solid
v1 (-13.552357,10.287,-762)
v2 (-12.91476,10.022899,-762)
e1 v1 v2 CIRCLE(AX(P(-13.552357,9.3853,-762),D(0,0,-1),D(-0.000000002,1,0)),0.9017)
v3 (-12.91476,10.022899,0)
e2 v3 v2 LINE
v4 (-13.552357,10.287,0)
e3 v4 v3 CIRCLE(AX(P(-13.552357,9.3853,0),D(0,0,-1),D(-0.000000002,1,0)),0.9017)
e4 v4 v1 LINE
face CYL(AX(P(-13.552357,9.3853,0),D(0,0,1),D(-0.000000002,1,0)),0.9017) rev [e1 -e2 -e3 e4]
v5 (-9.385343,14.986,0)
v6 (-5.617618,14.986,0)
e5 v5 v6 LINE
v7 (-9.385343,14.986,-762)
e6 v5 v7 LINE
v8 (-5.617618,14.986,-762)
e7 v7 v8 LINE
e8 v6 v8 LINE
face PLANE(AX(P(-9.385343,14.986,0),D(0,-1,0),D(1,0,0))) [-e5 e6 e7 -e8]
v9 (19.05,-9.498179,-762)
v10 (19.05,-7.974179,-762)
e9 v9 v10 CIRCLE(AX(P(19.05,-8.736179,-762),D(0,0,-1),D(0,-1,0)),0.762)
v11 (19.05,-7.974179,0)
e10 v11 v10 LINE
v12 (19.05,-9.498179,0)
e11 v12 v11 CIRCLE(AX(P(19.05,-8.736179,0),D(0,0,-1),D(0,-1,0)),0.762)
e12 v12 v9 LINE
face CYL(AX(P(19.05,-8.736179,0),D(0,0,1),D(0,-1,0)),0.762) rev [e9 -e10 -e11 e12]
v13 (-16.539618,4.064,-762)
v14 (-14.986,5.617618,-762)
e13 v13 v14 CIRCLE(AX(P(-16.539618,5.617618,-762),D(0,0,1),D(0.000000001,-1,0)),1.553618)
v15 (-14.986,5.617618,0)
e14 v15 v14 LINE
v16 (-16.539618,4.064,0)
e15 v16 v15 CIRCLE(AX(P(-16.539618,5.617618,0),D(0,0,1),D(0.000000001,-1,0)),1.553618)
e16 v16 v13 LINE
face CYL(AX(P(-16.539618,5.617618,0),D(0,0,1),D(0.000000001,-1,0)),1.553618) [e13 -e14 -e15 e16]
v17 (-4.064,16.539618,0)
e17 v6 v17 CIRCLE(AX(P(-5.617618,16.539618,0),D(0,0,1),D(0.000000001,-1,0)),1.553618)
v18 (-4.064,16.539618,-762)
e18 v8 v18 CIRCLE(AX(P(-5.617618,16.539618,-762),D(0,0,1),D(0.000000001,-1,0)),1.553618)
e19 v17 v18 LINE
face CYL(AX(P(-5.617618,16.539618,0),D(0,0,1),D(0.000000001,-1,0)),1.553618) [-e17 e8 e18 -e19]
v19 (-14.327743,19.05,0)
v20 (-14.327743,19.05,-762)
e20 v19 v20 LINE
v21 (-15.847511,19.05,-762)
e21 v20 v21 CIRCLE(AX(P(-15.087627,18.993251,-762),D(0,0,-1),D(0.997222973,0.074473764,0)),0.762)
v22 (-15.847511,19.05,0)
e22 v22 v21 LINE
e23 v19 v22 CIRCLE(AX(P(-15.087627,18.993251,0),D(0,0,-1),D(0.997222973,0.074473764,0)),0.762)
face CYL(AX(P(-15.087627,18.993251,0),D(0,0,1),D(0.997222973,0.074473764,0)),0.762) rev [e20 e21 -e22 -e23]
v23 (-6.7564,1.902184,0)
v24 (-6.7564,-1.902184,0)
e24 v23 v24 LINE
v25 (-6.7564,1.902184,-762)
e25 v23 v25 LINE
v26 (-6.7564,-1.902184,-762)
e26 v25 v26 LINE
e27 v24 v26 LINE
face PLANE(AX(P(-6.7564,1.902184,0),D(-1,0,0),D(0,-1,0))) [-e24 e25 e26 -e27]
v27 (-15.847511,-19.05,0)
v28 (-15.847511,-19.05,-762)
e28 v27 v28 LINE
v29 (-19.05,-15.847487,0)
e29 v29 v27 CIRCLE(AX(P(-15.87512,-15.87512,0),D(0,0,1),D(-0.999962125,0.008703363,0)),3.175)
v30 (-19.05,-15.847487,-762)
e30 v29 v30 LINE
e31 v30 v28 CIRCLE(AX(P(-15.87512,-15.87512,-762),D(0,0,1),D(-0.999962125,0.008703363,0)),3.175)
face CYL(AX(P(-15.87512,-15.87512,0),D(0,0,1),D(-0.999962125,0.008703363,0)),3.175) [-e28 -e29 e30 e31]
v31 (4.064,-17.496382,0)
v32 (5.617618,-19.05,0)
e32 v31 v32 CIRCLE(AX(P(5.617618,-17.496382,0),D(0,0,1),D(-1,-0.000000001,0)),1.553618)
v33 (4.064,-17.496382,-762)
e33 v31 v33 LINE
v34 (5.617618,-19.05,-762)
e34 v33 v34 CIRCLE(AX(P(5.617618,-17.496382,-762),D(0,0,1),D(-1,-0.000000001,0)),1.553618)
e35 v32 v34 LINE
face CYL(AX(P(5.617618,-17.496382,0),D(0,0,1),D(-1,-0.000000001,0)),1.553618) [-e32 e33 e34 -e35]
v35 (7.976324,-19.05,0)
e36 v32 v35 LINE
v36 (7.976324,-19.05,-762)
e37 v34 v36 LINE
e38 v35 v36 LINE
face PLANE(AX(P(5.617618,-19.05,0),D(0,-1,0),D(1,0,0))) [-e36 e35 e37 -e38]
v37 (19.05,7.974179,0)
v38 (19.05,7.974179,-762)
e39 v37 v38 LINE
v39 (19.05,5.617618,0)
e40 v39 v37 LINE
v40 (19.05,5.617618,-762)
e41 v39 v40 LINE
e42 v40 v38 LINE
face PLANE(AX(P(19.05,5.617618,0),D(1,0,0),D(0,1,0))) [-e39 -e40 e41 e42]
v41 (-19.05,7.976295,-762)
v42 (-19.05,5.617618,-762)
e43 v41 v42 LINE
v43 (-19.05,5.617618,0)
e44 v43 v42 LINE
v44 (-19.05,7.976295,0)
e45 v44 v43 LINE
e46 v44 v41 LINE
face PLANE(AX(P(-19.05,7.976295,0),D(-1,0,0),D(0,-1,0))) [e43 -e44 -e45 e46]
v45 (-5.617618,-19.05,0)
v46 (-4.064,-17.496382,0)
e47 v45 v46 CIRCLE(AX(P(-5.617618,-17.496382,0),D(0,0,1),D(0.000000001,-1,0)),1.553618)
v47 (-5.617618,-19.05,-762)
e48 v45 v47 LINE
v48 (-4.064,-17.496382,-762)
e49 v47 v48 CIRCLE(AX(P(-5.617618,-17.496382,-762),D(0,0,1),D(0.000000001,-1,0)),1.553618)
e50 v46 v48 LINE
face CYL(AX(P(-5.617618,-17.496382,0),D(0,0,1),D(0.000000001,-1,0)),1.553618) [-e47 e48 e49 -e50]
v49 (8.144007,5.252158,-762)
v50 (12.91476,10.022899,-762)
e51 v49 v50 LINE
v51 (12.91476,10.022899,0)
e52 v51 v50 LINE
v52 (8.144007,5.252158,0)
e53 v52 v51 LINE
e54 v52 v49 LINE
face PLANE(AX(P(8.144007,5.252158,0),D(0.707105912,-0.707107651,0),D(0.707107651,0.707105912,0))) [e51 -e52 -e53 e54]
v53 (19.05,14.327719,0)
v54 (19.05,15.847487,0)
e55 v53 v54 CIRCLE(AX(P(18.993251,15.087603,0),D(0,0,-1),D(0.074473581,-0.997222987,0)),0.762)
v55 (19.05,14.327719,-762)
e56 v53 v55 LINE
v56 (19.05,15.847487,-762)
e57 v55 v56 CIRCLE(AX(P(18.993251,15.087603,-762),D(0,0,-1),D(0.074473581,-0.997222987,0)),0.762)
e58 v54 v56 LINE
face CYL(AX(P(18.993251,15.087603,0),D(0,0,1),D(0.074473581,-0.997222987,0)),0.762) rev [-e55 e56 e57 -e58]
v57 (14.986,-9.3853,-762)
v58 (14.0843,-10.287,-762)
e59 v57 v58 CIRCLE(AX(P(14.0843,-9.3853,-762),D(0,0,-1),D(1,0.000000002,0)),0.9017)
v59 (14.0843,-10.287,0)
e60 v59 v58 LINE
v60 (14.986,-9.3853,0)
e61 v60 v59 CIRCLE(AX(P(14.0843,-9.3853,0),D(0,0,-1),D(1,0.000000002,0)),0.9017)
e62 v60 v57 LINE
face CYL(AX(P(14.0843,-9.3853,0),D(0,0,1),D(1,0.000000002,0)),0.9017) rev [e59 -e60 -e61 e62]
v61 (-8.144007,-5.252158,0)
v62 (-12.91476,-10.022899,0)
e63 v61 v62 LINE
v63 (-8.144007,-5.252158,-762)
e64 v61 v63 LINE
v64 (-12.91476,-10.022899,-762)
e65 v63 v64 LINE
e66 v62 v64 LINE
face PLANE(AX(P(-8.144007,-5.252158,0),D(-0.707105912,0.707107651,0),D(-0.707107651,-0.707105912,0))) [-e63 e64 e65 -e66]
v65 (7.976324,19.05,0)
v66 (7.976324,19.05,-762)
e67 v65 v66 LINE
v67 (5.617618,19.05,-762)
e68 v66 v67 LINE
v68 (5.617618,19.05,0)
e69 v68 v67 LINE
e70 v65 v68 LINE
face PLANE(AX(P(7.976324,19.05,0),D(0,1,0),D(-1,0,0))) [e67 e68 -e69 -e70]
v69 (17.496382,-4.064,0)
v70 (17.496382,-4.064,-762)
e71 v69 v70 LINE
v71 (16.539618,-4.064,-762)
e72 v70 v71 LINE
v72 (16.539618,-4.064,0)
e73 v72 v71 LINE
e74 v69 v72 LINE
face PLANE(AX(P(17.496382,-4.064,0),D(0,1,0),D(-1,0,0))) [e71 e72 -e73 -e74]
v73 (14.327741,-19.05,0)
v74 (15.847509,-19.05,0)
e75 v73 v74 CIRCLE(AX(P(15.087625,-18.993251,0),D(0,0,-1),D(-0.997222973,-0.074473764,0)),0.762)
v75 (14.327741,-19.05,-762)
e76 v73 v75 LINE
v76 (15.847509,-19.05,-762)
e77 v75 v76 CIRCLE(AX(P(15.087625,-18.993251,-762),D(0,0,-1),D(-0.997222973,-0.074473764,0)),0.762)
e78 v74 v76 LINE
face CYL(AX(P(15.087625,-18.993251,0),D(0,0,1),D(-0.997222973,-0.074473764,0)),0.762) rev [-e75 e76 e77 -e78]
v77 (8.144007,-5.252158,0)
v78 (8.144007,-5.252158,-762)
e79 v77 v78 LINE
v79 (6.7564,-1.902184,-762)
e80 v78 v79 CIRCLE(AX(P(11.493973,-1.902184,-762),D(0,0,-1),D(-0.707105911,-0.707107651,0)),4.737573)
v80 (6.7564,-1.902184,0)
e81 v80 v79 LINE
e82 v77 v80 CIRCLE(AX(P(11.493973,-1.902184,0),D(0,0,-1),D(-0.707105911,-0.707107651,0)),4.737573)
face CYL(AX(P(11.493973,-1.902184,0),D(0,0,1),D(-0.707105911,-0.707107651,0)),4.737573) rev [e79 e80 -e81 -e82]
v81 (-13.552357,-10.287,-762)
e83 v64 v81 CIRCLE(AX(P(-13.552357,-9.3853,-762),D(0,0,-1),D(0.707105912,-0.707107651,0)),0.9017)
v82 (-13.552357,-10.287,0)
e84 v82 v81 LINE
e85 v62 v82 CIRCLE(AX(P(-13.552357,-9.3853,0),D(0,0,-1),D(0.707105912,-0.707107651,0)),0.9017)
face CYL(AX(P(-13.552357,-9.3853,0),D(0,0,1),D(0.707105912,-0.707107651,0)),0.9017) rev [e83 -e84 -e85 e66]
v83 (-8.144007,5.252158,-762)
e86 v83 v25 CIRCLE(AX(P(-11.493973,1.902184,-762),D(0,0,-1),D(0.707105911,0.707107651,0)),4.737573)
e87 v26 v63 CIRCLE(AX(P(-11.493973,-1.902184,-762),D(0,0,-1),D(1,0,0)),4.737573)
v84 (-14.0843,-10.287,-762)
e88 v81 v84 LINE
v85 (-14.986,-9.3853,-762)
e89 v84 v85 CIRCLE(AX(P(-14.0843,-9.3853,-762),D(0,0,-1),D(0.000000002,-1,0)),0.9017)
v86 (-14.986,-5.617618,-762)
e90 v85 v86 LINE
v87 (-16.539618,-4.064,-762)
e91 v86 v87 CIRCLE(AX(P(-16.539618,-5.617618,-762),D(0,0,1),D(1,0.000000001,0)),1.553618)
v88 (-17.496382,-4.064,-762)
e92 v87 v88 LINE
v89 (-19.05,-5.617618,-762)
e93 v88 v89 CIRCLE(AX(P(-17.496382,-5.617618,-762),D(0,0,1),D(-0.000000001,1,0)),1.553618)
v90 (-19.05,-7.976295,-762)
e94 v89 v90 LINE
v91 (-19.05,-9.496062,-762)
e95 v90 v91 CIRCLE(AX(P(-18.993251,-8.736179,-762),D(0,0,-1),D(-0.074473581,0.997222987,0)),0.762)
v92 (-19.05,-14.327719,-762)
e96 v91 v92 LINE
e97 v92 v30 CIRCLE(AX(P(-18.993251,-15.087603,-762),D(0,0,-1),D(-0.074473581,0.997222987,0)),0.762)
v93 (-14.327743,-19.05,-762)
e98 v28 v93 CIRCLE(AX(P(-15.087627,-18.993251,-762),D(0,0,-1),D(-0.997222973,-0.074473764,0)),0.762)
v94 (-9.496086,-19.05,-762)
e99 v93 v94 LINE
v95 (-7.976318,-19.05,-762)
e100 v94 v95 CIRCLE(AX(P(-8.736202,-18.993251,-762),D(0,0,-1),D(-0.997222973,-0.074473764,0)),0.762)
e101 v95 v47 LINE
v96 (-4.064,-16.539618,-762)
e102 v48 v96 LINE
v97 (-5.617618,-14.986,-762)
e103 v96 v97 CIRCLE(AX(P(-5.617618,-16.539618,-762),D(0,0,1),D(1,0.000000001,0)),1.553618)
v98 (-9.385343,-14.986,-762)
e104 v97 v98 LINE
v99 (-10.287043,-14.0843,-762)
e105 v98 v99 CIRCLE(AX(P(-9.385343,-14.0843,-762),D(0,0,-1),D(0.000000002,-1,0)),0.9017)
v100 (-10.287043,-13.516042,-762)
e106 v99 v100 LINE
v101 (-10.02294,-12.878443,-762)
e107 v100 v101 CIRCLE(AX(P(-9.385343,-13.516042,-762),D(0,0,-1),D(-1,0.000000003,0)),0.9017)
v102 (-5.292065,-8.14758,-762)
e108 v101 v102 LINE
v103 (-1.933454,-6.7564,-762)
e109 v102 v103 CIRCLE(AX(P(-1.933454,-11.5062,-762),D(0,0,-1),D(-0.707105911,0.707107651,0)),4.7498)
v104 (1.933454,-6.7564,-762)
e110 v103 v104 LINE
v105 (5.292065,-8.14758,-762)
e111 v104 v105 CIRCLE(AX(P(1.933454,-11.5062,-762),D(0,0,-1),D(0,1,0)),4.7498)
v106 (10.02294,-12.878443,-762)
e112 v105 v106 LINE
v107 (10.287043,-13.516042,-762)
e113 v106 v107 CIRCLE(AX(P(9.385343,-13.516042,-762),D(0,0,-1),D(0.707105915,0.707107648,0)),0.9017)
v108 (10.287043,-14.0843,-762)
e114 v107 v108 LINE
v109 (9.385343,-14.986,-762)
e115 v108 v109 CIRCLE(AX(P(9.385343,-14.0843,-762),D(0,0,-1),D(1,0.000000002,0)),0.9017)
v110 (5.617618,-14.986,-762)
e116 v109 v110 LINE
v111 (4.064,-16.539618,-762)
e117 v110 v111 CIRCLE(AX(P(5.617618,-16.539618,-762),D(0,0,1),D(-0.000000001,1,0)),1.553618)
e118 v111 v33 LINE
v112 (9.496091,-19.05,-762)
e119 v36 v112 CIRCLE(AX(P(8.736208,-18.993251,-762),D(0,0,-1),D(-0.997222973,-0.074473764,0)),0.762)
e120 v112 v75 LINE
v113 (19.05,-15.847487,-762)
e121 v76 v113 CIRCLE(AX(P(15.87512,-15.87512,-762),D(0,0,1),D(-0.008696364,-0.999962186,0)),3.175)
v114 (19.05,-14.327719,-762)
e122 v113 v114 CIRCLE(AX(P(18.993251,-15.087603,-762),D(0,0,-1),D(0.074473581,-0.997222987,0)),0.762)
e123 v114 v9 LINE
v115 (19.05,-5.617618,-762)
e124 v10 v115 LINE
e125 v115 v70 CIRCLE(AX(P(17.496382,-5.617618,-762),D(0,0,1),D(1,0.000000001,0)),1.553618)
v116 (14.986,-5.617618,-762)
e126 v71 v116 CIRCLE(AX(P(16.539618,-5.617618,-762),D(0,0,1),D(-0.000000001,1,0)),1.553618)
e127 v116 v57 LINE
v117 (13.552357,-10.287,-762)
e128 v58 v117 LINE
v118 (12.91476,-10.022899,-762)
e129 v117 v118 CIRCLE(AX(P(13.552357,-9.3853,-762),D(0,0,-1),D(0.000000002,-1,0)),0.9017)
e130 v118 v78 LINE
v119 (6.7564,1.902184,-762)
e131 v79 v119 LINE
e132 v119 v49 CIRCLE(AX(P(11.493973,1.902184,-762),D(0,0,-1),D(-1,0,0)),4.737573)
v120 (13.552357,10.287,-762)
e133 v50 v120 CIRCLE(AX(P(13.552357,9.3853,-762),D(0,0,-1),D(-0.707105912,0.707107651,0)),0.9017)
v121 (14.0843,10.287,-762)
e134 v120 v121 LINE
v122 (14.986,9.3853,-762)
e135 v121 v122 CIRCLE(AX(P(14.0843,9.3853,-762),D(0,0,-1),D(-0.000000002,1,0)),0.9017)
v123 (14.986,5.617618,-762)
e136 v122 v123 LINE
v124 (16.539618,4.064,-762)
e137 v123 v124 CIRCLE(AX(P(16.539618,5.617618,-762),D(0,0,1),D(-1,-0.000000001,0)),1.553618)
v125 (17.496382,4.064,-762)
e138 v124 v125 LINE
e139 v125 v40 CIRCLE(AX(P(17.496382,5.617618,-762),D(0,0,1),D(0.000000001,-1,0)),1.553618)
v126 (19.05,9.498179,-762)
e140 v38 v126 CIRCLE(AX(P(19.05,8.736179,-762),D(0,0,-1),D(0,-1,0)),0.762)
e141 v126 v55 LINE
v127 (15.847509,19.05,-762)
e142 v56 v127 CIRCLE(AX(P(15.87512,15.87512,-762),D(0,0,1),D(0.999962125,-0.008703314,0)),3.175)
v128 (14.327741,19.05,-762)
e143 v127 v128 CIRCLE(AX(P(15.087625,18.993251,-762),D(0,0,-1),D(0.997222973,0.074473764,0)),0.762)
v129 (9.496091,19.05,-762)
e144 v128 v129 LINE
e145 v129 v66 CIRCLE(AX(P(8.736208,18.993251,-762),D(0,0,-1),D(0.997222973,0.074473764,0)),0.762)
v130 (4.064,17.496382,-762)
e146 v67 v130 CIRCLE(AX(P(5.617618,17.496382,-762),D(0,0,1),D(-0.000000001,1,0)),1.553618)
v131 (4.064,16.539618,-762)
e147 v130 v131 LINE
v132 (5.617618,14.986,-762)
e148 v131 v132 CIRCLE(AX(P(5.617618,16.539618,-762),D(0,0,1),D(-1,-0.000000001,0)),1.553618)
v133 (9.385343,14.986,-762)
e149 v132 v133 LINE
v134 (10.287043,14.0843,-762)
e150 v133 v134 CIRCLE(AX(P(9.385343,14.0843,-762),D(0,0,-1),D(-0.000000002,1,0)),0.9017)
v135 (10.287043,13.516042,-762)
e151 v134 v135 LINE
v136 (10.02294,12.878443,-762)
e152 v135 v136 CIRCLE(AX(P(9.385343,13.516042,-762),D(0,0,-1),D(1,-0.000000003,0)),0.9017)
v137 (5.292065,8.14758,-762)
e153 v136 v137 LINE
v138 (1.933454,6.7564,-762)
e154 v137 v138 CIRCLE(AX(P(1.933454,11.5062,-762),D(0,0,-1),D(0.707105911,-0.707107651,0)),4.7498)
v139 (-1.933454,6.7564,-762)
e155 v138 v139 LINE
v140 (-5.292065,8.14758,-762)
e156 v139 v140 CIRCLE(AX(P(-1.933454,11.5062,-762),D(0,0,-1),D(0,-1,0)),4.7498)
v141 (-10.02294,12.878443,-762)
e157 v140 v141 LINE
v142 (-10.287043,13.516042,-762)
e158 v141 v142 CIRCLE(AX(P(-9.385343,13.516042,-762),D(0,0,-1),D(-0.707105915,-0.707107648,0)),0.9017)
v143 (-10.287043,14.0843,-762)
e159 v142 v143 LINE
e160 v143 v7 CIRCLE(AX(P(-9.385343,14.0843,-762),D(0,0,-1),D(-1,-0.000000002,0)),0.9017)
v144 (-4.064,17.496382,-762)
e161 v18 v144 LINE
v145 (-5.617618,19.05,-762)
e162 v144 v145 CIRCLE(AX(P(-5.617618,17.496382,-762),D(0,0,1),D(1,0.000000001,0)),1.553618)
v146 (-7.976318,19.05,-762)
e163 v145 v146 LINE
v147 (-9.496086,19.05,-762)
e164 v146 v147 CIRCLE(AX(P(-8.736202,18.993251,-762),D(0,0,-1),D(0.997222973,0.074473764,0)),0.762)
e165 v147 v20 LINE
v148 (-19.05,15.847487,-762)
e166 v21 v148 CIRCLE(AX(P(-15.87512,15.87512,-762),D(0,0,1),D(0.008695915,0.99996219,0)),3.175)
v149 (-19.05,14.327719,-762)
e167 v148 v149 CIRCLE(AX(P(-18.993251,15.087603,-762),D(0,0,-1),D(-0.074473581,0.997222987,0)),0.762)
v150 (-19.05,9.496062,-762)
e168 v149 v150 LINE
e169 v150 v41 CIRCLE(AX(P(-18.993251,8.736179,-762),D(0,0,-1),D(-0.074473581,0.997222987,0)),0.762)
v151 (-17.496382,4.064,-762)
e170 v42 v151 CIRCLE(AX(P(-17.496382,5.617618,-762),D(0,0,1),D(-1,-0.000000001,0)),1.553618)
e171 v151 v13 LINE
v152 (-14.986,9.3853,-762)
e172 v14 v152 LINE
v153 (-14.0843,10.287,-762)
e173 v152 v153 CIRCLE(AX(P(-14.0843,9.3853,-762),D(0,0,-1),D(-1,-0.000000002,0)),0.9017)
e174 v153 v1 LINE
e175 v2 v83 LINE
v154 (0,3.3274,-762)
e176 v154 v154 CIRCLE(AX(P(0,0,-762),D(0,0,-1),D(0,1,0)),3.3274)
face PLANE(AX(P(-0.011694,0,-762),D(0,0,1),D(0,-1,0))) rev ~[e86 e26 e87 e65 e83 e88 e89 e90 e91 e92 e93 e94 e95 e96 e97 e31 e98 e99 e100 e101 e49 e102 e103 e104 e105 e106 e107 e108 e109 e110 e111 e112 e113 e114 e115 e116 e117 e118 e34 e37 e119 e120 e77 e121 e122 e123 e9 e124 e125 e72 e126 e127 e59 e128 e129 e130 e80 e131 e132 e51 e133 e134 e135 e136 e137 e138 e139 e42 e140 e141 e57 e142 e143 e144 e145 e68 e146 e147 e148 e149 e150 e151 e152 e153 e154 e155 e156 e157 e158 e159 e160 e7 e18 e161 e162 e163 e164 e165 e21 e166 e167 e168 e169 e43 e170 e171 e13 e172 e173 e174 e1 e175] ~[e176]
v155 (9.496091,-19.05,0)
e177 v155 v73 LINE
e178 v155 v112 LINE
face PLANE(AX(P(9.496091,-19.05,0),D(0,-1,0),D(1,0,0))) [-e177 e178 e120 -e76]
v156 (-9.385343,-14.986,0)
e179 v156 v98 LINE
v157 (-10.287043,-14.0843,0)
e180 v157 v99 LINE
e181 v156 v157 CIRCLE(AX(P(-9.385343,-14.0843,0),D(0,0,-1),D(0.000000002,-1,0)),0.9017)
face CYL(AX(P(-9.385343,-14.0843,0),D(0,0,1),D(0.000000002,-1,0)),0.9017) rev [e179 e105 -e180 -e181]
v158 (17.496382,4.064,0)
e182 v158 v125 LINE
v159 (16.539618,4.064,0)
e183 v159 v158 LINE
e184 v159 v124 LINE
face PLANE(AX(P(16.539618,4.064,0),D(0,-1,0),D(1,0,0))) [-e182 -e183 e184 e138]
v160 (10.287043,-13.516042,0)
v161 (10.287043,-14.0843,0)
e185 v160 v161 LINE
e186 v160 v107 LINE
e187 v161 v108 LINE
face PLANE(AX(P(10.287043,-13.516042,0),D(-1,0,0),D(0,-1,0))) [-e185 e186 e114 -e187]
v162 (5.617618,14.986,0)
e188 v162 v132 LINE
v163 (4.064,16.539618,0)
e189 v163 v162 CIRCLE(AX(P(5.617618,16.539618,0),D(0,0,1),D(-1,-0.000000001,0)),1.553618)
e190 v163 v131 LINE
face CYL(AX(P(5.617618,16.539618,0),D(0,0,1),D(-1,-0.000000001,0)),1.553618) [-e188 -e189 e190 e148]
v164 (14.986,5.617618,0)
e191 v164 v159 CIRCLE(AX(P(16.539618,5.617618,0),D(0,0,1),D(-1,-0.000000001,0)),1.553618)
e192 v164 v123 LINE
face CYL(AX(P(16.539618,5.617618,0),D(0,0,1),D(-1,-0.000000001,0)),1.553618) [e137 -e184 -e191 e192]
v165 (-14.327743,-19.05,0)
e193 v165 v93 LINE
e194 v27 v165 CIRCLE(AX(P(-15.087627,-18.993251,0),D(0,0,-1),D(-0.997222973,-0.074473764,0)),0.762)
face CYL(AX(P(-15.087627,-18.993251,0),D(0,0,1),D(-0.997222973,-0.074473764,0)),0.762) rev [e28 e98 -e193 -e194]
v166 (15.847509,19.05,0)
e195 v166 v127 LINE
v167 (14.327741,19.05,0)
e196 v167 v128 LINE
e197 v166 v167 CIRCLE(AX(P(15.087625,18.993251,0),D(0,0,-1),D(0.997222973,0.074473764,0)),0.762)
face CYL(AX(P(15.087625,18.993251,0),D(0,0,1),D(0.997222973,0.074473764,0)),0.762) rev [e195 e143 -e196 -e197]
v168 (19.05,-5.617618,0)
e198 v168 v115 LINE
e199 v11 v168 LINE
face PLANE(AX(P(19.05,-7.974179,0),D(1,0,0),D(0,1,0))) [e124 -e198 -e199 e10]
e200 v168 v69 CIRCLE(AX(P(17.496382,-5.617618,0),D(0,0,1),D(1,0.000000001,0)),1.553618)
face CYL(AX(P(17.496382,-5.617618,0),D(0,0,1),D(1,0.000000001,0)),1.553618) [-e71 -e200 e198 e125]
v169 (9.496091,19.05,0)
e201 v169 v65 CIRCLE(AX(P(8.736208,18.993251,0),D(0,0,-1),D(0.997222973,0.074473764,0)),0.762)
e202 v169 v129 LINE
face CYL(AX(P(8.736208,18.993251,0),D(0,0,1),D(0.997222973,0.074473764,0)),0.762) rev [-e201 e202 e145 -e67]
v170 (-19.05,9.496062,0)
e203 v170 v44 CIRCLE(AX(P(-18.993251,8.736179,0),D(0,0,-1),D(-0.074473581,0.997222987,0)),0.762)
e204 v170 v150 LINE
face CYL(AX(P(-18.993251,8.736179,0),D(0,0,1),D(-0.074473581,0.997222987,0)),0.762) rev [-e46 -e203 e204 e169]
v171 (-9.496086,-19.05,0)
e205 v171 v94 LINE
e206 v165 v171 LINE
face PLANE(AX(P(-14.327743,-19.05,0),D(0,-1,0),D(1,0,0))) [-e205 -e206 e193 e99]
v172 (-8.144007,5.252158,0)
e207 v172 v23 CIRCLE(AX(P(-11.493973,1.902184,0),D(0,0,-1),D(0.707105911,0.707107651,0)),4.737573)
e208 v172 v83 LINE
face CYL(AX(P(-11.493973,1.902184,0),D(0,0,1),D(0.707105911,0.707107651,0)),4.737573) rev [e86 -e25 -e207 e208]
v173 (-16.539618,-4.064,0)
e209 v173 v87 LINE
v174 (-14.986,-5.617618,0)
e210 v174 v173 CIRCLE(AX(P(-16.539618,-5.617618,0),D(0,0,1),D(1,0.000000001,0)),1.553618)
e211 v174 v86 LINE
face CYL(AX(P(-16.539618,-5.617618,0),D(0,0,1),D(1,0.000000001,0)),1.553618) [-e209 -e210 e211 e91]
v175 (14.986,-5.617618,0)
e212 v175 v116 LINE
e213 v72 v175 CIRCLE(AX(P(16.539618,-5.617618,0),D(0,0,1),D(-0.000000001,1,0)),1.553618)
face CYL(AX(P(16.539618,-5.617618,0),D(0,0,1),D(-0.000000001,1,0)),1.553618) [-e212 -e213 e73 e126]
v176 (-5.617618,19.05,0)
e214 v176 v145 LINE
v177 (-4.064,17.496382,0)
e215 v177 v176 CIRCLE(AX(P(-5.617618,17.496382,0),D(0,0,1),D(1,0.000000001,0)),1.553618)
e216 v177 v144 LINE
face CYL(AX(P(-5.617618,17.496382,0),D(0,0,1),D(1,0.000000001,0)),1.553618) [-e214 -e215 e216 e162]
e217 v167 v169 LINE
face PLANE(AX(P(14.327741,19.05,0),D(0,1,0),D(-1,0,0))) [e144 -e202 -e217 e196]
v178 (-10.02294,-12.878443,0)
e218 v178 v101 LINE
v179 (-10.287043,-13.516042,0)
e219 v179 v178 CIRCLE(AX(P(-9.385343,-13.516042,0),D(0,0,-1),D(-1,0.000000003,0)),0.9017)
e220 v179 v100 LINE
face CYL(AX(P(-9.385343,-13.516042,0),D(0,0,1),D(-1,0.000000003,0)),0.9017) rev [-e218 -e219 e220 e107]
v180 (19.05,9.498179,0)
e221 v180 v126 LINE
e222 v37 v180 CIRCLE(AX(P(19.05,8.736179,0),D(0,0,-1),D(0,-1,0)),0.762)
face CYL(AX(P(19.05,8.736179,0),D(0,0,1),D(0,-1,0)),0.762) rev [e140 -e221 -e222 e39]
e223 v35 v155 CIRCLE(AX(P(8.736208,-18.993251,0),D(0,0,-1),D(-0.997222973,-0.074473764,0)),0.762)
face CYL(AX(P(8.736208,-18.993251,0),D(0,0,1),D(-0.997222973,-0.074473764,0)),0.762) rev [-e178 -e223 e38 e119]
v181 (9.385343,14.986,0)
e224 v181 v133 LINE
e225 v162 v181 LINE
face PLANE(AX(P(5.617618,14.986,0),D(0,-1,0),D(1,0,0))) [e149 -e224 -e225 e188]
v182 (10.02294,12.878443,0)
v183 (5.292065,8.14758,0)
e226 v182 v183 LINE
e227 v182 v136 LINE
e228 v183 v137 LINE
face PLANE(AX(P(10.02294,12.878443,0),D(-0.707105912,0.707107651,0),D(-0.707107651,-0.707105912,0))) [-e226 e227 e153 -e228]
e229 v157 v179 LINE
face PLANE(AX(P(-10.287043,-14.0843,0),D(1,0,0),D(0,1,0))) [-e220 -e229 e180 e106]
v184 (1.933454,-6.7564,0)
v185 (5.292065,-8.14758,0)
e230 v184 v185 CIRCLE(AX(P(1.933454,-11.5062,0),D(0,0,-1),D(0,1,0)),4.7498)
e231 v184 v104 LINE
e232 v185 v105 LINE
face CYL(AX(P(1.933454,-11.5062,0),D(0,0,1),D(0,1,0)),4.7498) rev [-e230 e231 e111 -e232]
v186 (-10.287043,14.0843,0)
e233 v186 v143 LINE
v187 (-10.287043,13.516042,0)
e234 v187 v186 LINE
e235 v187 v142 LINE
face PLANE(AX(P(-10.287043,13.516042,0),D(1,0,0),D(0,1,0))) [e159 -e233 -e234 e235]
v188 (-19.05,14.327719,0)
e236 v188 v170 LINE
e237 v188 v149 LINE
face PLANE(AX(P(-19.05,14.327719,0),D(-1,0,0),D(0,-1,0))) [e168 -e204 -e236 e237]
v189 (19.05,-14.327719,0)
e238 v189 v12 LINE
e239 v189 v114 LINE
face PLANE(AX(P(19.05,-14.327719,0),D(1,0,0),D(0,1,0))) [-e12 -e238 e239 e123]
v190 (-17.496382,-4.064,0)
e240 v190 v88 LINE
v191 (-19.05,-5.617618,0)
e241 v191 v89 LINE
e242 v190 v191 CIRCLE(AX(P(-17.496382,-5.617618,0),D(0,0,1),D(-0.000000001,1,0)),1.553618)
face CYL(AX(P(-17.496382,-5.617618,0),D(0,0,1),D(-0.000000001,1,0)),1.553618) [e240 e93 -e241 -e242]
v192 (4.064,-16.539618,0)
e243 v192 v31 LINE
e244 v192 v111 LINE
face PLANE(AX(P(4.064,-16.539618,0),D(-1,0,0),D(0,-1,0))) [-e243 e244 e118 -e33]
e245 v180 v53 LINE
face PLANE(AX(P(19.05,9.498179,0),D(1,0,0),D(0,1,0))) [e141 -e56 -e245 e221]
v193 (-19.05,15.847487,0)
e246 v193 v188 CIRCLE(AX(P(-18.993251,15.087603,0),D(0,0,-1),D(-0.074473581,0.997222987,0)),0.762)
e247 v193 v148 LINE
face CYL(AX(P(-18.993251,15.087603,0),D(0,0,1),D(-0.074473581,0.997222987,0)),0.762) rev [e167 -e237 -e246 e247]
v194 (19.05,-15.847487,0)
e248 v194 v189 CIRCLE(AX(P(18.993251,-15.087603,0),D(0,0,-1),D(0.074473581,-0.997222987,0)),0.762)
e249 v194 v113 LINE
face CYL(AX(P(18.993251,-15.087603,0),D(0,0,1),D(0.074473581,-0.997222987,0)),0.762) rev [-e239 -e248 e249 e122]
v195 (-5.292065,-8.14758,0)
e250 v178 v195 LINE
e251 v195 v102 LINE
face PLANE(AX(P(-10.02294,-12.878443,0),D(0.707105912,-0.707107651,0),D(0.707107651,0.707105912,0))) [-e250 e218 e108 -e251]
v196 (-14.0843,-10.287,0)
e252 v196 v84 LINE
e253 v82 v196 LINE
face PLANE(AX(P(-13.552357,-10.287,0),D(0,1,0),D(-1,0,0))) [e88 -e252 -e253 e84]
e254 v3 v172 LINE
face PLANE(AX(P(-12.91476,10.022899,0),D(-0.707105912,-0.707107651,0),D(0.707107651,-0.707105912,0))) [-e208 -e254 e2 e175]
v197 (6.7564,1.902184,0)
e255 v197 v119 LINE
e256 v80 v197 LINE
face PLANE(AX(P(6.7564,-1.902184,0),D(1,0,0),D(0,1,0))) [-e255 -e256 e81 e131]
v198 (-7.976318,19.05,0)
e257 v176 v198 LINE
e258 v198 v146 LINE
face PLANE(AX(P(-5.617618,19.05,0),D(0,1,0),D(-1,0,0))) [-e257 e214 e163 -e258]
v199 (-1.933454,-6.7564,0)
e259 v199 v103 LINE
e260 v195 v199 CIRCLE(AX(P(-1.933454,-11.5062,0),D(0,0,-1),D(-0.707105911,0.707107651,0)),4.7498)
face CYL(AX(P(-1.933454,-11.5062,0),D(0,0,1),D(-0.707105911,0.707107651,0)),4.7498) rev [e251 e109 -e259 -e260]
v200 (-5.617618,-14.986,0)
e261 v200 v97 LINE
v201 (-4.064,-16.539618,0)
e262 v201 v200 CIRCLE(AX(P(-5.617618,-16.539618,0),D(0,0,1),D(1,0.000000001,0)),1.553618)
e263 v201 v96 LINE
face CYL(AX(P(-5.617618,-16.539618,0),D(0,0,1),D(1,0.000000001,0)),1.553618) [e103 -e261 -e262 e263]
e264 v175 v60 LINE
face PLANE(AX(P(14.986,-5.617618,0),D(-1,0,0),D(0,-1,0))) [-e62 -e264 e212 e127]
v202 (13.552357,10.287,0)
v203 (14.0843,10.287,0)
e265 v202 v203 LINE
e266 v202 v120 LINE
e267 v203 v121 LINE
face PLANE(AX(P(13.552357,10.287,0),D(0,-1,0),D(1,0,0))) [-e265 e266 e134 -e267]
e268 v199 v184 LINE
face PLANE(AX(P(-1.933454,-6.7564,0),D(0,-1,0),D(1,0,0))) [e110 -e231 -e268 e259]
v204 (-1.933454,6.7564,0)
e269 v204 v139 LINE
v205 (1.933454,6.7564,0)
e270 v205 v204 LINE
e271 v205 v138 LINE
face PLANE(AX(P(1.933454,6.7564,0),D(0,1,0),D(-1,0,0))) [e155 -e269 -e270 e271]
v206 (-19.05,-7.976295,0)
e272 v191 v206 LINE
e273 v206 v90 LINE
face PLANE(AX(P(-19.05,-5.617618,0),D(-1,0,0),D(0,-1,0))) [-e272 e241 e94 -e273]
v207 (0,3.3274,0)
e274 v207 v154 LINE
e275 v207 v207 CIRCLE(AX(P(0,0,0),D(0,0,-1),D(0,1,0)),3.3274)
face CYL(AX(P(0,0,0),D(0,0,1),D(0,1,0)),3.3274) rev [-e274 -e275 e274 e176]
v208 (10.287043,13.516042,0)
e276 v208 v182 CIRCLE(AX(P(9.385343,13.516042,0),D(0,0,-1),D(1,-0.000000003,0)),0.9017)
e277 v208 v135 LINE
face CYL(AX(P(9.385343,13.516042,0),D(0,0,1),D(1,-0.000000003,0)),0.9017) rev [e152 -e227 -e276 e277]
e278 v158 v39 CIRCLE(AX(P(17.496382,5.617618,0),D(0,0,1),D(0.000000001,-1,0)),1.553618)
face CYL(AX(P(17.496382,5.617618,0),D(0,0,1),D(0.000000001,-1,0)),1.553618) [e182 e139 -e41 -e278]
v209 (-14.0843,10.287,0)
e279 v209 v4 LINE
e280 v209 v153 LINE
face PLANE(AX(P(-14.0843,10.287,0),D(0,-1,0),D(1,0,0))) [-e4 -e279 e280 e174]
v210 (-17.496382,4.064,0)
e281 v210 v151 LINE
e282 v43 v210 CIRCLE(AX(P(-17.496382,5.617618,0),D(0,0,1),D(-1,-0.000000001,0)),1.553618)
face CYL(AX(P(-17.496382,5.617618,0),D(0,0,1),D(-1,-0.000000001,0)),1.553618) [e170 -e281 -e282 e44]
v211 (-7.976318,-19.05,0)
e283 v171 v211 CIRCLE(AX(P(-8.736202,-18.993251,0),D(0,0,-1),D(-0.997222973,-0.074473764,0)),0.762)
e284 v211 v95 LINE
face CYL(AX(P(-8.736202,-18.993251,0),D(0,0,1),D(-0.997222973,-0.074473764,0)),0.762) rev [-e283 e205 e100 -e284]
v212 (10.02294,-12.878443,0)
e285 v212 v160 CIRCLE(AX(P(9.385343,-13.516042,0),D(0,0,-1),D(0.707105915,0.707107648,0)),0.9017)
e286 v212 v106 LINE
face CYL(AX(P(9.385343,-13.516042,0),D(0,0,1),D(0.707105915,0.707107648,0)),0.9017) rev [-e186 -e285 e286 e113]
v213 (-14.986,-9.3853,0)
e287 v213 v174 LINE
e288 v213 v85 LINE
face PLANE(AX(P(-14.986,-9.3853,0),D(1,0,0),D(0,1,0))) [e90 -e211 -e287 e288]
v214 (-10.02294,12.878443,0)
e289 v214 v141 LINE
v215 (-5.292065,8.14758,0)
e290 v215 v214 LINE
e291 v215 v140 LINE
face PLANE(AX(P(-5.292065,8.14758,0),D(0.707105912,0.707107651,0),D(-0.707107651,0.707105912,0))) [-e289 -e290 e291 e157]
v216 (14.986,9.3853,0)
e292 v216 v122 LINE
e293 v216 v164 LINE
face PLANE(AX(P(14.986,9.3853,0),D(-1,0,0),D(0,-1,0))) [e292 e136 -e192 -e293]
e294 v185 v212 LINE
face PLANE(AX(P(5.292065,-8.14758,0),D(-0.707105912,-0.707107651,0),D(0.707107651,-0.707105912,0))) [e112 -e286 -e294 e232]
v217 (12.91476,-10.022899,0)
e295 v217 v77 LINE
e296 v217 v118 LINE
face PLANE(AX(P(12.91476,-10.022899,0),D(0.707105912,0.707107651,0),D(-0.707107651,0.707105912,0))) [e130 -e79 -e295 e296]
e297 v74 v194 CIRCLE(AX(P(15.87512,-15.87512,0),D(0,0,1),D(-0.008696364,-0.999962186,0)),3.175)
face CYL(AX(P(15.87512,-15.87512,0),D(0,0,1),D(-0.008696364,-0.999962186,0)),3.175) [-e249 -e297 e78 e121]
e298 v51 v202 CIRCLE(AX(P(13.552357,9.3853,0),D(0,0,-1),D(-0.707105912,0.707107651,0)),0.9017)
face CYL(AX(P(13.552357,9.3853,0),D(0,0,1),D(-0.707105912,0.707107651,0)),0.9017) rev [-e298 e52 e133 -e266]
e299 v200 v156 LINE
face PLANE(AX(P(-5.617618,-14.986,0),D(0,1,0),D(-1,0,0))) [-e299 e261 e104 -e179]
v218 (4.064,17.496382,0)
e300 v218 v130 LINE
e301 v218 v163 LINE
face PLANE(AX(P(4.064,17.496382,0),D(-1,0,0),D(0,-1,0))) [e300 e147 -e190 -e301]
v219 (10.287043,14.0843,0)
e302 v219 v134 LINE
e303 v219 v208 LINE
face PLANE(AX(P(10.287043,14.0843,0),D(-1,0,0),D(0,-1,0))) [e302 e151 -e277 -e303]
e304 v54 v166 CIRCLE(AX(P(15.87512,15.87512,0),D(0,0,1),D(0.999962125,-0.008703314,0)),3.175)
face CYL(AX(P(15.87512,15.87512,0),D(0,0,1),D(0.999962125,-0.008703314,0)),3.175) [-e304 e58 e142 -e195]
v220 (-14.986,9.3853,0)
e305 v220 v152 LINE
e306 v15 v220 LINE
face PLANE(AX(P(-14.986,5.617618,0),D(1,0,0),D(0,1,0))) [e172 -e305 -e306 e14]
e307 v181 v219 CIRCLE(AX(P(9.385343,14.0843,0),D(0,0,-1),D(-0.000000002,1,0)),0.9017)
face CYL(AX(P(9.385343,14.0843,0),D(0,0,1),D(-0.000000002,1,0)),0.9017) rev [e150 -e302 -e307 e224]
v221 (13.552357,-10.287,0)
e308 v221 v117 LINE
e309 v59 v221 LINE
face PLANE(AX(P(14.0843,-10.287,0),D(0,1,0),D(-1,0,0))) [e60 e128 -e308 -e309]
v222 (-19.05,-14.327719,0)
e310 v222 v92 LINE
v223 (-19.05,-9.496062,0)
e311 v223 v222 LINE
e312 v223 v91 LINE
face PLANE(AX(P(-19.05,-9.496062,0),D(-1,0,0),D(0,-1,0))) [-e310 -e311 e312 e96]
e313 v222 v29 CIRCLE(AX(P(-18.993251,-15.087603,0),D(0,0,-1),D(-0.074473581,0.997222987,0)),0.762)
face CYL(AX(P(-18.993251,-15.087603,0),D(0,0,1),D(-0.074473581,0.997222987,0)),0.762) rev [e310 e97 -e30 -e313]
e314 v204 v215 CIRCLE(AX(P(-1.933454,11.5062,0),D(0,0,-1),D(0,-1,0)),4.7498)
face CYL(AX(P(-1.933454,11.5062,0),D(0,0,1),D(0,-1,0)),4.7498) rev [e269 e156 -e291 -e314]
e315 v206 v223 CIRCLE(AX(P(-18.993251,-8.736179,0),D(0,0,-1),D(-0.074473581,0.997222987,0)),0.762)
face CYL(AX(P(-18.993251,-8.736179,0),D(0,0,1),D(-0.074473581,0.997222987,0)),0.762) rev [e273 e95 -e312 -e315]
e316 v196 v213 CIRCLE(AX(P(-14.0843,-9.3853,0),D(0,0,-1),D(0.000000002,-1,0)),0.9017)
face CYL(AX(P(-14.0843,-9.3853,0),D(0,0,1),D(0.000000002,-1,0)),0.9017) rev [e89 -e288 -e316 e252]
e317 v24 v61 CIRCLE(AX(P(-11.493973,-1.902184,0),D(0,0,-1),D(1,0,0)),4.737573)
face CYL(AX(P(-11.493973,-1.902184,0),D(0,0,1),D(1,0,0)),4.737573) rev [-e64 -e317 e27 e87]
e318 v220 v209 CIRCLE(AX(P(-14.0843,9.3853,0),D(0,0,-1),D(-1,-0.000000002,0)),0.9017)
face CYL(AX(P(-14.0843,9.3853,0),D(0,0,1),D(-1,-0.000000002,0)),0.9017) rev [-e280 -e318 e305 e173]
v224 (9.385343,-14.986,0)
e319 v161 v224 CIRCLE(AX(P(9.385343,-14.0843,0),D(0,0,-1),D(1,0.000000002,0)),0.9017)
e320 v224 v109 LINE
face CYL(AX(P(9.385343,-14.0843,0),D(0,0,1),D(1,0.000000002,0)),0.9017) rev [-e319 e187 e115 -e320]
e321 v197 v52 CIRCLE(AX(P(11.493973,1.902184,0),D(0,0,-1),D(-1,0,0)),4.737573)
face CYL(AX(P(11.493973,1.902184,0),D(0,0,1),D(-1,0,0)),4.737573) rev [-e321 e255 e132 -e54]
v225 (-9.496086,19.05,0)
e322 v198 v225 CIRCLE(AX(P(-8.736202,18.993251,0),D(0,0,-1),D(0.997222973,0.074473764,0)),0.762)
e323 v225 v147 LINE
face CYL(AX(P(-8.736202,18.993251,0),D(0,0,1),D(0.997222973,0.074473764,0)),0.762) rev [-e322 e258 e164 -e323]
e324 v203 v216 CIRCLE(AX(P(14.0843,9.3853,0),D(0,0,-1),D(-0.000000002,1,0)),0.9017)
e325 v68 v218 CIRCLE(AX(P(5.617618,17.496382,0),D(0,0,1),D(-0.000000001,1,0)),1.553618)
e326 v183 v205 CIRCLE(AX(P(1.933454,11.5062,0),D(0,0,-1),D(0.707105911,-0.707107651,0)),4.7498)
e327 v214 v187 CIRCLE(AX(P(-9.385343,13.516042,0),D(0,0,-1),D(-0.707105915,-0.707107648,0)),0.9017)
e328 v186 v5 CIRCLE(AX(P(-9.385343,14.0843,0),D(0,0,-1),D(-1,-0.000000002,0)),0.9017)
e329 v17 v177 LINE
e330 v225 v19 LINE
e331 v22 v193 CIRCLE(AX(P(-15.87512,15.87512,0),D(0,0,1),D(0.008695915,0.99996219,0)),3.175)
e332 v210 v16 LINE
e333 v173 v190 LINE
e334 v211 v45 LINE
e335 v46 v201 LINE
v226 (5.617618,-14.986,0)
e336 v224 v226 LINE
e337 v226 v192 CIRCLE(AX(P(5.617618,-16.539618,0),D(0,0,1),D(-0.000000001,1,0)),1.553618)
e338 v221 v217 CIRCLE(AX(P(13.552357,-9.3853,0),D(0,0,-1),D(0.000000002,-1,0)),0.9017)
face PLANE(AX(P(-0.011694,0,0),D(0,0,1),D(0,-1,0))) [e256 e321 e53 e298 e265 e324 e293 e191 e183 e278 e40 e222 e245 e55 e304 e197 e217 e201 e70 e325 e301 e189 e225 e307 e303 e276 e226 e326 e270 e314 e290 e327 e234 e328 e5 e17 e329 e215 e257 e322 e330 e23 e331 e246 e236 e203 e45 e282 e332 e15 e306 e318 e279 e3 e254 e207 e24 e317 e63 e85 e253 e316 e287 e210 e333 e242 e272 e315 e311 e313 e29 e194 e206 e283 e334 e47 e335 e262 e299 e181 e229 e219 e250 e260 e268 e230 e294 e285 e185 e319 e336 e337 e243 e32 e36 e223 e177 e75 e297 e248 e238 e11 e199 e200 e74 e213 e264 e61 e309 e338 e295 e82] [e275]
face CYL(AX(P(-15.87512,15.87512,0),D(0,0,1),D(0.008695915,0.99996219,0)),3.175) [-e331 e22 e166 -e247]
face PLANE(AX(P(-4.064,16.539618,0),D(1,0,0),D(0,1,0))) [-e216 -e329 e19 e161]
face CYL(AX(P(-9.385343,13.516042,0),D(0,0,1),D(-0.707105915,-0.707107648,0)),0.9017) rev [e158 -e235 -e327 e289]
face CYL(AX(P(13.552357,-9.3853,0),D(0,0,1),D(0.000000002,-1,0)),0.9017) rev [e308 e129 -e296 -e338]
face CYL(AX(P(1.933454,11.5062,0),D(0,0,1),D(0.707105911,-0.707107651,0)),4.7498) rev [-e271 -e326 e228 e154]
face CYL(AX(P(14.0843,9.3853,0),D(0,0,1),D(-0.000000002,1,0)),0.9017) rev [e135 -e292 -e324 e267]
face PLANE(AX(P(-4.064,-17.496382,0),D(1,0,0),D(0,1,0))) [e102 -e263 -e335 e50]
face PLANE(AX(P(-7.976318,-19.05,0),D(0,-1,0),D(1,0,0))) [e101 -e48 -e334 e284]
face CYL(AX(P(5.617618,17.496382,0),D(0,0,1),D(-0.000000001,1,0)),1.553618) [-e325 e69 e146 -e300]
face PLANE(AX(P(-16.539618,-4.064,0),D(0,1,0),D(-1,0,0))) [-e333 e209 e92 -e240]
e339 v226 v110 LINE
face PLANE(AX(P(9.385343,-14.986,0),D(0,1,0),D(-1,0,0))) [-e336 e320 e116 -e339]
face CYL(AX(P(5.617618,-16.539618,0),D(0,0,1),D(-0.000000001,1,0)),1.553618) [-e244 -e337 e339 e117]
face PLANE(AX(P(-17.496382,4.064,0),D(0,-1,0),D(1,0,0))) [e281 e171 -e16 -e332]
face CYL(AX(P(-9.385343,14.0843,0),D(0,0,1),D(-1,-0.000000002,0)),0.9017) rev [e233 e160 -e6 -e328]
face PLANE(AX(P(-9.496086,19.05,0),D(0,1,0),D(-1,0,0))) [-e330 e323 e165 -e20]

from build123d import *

# Parameters (mm, degrees)
SKETCH11_R                = 3.3274
F_15_1515_PROFILE_1_DEPTH = 762


with BuildPart() as part:
    # Sketch11 → 15 1515 PROFILE(1) (new body)
    with BuildSketch(Plane.YX):
        with BuildLine():
            Line((-10.022898969, 12.91475973), (-5.252158105, 8.144007132))
            ThreePointArc((-5.252158105, 8.144007132), (-3.715177372, 7.117027388), (-1.902183975, 6.7564))
            Line((-1.902183975, 6.7564), (1.902183975, 6.7564))
            ThreePointArc((1.902183975, 6.7564), (3.715177372, 7.117027388), (5.252158105, 8.144007132))
            Line((5.252158105, 8.144007132), (10.022898969, 12.91475973))
            ThreePointArc((10.022898969, 12.91475973), (10.218362387, 13.207291992), (10.287, 13.552357131))
            Line((10.287, 13.552357131), (10.287, 14.0843))
            ThreePointArc((10.287, 14.0843), (10.022898185, 14.721898185), (9.3853, 14.986))
            Line((9.3853, 14.986), (5.617617549, 14.986))
            ThreePointArc((5.617617549, 14.986), (4.519044045, 15.441044045), (4.064, 16.539617549))
            Line((4.064, 16.539617549), (4.064, 17.496382451))
            ThreePointArc((4.064, 17.496382451), (4.519044045, 18.594955955), (5.617617549, 19.05))
            Line((5.617617549, 19.05), (7.974178704, 19.05))
            ThreePointArc((7.974178704, 19.05), (8.736178704, 18.288), (9.498178704, 19.05))
            Line((9.498178704, 19.05), (14.327719207, 19.05))
            ThreePointArc((14.327719207, 19.05), (15.087603123, 18.231251131), (15.847487039, 19.05))
            ThreePointArc((15.847487039, 19.05), (18.120176289, 18.120192083), (19.05, 15.847509295))
            ThreePointArc((19.05, 15.847509295), (18.231250992, 15.08762539), (19.05, 14.327741484))
            Line((19.05, 14.327741484), (19.05, 9.496091471))
            ThreePointArc((19.05, 9.496091471), (18.231250992, 8.736207565), (19.05, 7.97632366))
            Line((19.05, 7.97632366), (19.05, 5.617617549))
            ThreePointArc((19.05, 5.617617549), (18.594955955, 4.519044045), (17.496382451, 4.064))
            Line((17.496382451, 4.064), (16.539617549, 4.064))
            ThreePointArc((16.539617549, 4.064), (15.441044045, 4.519044045), (14.986, 5.617617549))
            Line((14.986, 5.617617549), (14.986, 9.385342516))
            ThreePointArc((14.986, 9.385342516), (14.721898185, 10.022940701), (14.0843, 10.287042516))
            Line((14.0843, 10.287042516), (13.516042086, 10.287042516))
            ThreePointArc((13.516042086, 10.287042516), (13.170975923, 10.218404478), (12.878443117, 10.022939917))
            Line((12.878443117, 10.022939917), (8.14758008, 5.292065243))
            ThreePointArc((8.14758008, 5.292065243), (7.117955879, 3.751120653), (6.7564, 1.933453584))
            Line((6.7564, 1.933453584), (6.7564, -1.933453584))
            ThreePointArc((6.7564, -1.933453584), (7.117955879, -3.751120653), (8.14758008, -5.292065243))
            Line((8.14758008, -5.292065243), (12.878443117, -10.022939917))
            ThreePointArc((12.878443117, -10.022939917), (13.170975923, -10.218404478), (13.516042086, -10.287042516))
            Line((13.516042086, -10.287042516), (14.0843, -10.287042516))
            ThreePointArc((14.0843, -10.287042516), (14.721898185, -10.022940701), (14.986, -9.385342516))
            Line((14.986, -9.385342516), (14.986, -5.617617549))
            ThreePointArc((14.986, -5.617617549), (15.441044045, -4.519044045), (16.539617549, -4.064))
            Line((16.539617549, -4.064), (17.496382451, -4.064))
            ThreePointArc((17.496382451, -4.064), (18.594955955, -4.519044045), (19.05, -5.617617549))
            Line((19.05, -5.617617549), (19.05, -7.976318491))
            ThreePointArc((19.05, -7.976318491), (18.231250992, -8.736202396), (19.05, -9.496086302))
            Line((19.05, -9.496086302), (19.05, -14.32774291))
            ThreePointArc((19.05, -14.32774291), (18.231250992, -15.087626816), (19.05, -15.847510721))
            ThreePointArc((19.05, -15.847510721), (18.120175716, -18.120192644), (15.847486868, -19.05))
            ThreePointArc((15.847486868, -19.05), (15.087602952, -18.231251131), (14.327719036, -19.05))
            Line((14.327719036, -19.05), (9.496062448, -19.05))
            ThreePointArc((9.496062448, -19.05), (8.736178532, -18.231251131), (7.976294616, -19.05))
            Line((7.976294616, -19.05), (5.617617549, -19.05))
            ThreePointArc((5.617617549, -19.05), (4.519044045, -18.594955955), (4.064, -17.496382451))
            Line((4.064, -17.496382451), (4.064, -16.539617549))
            ThreePointArc((4.064, -16.539617549), (4.519044045, -15.441044045), (5.617617549, -14.986))
            Line((5.617617549, -14.986), (9.3853, -14.986))
            ThreePointArc((9.3853, -14.986), (10.022898185, -14.721898185), (10.287, -14.0843))
            Line((10.287, -14.0843), (10.287, -13.552357131))
            ThreePointArc((10.287, -13.552357131), (10.218362387, -13.207291992), (10.022898969, -12.91475973))
            Line((10.022898969, -12.91475973), (5.252158105, -8.144007132))
            ThreePointArc((5.252158105, -8.144007132), (3.715177372, -7.117027388), (1.902183975, -6.7564))
            Line((1.902183975, -6.7564), (-1.902183975, -6.7564))
            ThreePointArc((-1.902183975, -6.7564), (-3.715177372, -7.117027388), (-5.252158105, -8.144007132))
            Line((-5.252158105, -8.144007132), (-10.022898969, -12.91475973))
            ThreePointArc((-10.022898969, -12.91475973), (-10.218362387, -13.207291992), (-10.287, -13.552357131))
            Line((-10.287, -13.552357131), (-10.287, -14.0843))
            ThreePointArc((-10.287, -14.0843), (-10.022898185, -14.721898185), (-9.3853, -14.986))
            Line((-9.3853, -14.986), (-5.617617549, -14.986))
            ThreePointArc((-5.617617549, -14.986), (-4.519044045, -15.441044045), (-4.064, -16.539617549))
            Line((-4.064, -16.539617549), (-4.064, -17.496382451))
            ThreePointArc((-4.064, -17.496382451), (-4.519044045, -18.594955955), (-5.617617549, -19.05))
            Line((-5.617617549, -19.05), (-7.976294616, -19.05))
            ThreePointArc((-7.976294616, -19.05), (-8.736178532, -18.231251131), (-9.496062448, -19.05))
            Line((-9.496062448, -19.05), (-14.327719036, -19.05))
            ThreePointArc((-14.327719036, -19.05), (-15.087602952, -18.231251131), (-15.847486868, -19.05))
            ThreePointArc((-15.847486868, -19.05), (-18.120175716, -18.120192644), (-19.05, -15.847510721))
            ThreePointArc((-19.05, -15.847510721), (-18.231250992, -15.087626816), (-19.05, -14.32774291))
            Line((-19.05, -14.32774291), (-19.05, -9.496086302))
            ThreePointArc((-19.05, -9.496086302), (-18.231250992, -8.736202396), (-19.05, -7.976318491))
            Line((-19.05, -7.976318491), (-19.05, -5.617617549))
            ThreePointArc((-19.05, -5.617617549), (-18.594955955, -4.519044045), (-17.496382451, -4.064))
            Line((-17.496382451, -4.064), (-16.539617549, -4.064))
            ThreePointArc((-16.539617549, -4.064), (-15.441044045, -4.519044045), (-14.986, -5.617617549))
            Line((-14.986, -5.617617549), (-14.986, -9.385342516))
            ThreePointArc((-14.986, -9.385342516), (-14.721898185, -10.022940701), (-14.0843, -10.287042516))
            Line((-14.0843, -10.287042516), (-13.516042086, -10.287042516))
            ThreePointArc((-13.516042086, -10.287042516), (-13.170975923, -10.218404478), (-12.878443117, -10.022939917))
            Line((-12.878443117, -10.022939917), (-8.14758008, -5.292065243))
            ThreePointArc((-8.14758008, -5.292065243), (-7.117955879, -3.751120653), (-6.7564, -1.933453584))
            Line((-6.7564, -1.933453584), (-6.7564, 1.933453584))
            ThreePointArc((-6.7564, 1.933453584), (-7.117955879, 3.751120653), (-8.14758008, 5.292065243))
            Line((-8.14758008, 5.292065243), (-12.878443117, 10.022939917))
            ThreePointArc((-12.878443117, 10.022939917), (-13.170975923, 10.218404478), (-13.516042086, 10.287042516))
            Line((-13.516042086, 10.287042516), (-14.0843, 10.287042516))
            ThreePointArc((-14.0843, 10.287042516), (-14.721898185, 10.022940701), (-14.986, 9.385342516))
            Line((-14.986, 9.385342516), (-14.986, 5.617617549))
            ThreePointArc((-14.986, 5.617617549), (-15.441044045, 4.519044045), (-16.539617549, 4.064))
            Line((-16.539617549, 4.064), (-17.496382451, 4.064))
            ThreePointArc((-17.496382451, 4.064), (-18.594955955, 4.519044045), (-19.05, 5.617617549))
            Line((-19.05, 5.617617549), (-19.05, 7.97632366))
            ThreePointArc((-19.05, 7.97632366), (-18.231250992, 8.736207565), (-19.05, 9.496091471))
            Line((-19.05, 9.496091471), (-19.05, 14.327741484))
            ThreePointArc((-19.05, 14.327741484), (-18.231250992, 15.08762539), (-19.05, 15.847509295))
            ThreePointArc((-19.05, 15.847509295), (-18.120176289, 18.120192083), (-15.847487039, 19.05))
            ThreePointArc((-15.847487039, 19.05), (-15.087603123, 18.231251131), (-14.327719207, 19.05))
            Line((-14.327719207, 19.05), (-9.498178704, 19.05))
            ThreePointArc((-9.498178704, 19.05), (-8.736178704, 18.288), (-7.974178704, 19.05))
            Line((-7.974178704, 19.05), (-5.617617549, 19.05))
            ThreePointArc((-5.617617549, 19.05), (-4.519044045, 18.594955955), (-4.064, 17.496382451))
            Line((-4.064, 17.496382451), (-4.064, 16.539617549))
            ThreePointArc((-4.064, 16.539617549), (-4.519044045, 15.441044045), (-5.617617549, 14.986))
            Line((-5.617617549, 14.986), (-9.3853, 14.986))
            ThreePointArc((-9.3853, 14.986), (-10.022898185, 14.721898185), (-10.287, 14.0843))
            Line((-10.287, 14.0843), (-10.287, 13.552357131))
            ThreePointArc((-10.287, 13.552357131), (-10.218362387, 13.207291992), (-10.022898969, 12.91475973))
        make_face()
        Circle(SKETCH11_R, mode=Mode.SUBTRACT)
    extrude(amount=F_15_1515_PROFILE_1_DEPTH)


solid = part.part
